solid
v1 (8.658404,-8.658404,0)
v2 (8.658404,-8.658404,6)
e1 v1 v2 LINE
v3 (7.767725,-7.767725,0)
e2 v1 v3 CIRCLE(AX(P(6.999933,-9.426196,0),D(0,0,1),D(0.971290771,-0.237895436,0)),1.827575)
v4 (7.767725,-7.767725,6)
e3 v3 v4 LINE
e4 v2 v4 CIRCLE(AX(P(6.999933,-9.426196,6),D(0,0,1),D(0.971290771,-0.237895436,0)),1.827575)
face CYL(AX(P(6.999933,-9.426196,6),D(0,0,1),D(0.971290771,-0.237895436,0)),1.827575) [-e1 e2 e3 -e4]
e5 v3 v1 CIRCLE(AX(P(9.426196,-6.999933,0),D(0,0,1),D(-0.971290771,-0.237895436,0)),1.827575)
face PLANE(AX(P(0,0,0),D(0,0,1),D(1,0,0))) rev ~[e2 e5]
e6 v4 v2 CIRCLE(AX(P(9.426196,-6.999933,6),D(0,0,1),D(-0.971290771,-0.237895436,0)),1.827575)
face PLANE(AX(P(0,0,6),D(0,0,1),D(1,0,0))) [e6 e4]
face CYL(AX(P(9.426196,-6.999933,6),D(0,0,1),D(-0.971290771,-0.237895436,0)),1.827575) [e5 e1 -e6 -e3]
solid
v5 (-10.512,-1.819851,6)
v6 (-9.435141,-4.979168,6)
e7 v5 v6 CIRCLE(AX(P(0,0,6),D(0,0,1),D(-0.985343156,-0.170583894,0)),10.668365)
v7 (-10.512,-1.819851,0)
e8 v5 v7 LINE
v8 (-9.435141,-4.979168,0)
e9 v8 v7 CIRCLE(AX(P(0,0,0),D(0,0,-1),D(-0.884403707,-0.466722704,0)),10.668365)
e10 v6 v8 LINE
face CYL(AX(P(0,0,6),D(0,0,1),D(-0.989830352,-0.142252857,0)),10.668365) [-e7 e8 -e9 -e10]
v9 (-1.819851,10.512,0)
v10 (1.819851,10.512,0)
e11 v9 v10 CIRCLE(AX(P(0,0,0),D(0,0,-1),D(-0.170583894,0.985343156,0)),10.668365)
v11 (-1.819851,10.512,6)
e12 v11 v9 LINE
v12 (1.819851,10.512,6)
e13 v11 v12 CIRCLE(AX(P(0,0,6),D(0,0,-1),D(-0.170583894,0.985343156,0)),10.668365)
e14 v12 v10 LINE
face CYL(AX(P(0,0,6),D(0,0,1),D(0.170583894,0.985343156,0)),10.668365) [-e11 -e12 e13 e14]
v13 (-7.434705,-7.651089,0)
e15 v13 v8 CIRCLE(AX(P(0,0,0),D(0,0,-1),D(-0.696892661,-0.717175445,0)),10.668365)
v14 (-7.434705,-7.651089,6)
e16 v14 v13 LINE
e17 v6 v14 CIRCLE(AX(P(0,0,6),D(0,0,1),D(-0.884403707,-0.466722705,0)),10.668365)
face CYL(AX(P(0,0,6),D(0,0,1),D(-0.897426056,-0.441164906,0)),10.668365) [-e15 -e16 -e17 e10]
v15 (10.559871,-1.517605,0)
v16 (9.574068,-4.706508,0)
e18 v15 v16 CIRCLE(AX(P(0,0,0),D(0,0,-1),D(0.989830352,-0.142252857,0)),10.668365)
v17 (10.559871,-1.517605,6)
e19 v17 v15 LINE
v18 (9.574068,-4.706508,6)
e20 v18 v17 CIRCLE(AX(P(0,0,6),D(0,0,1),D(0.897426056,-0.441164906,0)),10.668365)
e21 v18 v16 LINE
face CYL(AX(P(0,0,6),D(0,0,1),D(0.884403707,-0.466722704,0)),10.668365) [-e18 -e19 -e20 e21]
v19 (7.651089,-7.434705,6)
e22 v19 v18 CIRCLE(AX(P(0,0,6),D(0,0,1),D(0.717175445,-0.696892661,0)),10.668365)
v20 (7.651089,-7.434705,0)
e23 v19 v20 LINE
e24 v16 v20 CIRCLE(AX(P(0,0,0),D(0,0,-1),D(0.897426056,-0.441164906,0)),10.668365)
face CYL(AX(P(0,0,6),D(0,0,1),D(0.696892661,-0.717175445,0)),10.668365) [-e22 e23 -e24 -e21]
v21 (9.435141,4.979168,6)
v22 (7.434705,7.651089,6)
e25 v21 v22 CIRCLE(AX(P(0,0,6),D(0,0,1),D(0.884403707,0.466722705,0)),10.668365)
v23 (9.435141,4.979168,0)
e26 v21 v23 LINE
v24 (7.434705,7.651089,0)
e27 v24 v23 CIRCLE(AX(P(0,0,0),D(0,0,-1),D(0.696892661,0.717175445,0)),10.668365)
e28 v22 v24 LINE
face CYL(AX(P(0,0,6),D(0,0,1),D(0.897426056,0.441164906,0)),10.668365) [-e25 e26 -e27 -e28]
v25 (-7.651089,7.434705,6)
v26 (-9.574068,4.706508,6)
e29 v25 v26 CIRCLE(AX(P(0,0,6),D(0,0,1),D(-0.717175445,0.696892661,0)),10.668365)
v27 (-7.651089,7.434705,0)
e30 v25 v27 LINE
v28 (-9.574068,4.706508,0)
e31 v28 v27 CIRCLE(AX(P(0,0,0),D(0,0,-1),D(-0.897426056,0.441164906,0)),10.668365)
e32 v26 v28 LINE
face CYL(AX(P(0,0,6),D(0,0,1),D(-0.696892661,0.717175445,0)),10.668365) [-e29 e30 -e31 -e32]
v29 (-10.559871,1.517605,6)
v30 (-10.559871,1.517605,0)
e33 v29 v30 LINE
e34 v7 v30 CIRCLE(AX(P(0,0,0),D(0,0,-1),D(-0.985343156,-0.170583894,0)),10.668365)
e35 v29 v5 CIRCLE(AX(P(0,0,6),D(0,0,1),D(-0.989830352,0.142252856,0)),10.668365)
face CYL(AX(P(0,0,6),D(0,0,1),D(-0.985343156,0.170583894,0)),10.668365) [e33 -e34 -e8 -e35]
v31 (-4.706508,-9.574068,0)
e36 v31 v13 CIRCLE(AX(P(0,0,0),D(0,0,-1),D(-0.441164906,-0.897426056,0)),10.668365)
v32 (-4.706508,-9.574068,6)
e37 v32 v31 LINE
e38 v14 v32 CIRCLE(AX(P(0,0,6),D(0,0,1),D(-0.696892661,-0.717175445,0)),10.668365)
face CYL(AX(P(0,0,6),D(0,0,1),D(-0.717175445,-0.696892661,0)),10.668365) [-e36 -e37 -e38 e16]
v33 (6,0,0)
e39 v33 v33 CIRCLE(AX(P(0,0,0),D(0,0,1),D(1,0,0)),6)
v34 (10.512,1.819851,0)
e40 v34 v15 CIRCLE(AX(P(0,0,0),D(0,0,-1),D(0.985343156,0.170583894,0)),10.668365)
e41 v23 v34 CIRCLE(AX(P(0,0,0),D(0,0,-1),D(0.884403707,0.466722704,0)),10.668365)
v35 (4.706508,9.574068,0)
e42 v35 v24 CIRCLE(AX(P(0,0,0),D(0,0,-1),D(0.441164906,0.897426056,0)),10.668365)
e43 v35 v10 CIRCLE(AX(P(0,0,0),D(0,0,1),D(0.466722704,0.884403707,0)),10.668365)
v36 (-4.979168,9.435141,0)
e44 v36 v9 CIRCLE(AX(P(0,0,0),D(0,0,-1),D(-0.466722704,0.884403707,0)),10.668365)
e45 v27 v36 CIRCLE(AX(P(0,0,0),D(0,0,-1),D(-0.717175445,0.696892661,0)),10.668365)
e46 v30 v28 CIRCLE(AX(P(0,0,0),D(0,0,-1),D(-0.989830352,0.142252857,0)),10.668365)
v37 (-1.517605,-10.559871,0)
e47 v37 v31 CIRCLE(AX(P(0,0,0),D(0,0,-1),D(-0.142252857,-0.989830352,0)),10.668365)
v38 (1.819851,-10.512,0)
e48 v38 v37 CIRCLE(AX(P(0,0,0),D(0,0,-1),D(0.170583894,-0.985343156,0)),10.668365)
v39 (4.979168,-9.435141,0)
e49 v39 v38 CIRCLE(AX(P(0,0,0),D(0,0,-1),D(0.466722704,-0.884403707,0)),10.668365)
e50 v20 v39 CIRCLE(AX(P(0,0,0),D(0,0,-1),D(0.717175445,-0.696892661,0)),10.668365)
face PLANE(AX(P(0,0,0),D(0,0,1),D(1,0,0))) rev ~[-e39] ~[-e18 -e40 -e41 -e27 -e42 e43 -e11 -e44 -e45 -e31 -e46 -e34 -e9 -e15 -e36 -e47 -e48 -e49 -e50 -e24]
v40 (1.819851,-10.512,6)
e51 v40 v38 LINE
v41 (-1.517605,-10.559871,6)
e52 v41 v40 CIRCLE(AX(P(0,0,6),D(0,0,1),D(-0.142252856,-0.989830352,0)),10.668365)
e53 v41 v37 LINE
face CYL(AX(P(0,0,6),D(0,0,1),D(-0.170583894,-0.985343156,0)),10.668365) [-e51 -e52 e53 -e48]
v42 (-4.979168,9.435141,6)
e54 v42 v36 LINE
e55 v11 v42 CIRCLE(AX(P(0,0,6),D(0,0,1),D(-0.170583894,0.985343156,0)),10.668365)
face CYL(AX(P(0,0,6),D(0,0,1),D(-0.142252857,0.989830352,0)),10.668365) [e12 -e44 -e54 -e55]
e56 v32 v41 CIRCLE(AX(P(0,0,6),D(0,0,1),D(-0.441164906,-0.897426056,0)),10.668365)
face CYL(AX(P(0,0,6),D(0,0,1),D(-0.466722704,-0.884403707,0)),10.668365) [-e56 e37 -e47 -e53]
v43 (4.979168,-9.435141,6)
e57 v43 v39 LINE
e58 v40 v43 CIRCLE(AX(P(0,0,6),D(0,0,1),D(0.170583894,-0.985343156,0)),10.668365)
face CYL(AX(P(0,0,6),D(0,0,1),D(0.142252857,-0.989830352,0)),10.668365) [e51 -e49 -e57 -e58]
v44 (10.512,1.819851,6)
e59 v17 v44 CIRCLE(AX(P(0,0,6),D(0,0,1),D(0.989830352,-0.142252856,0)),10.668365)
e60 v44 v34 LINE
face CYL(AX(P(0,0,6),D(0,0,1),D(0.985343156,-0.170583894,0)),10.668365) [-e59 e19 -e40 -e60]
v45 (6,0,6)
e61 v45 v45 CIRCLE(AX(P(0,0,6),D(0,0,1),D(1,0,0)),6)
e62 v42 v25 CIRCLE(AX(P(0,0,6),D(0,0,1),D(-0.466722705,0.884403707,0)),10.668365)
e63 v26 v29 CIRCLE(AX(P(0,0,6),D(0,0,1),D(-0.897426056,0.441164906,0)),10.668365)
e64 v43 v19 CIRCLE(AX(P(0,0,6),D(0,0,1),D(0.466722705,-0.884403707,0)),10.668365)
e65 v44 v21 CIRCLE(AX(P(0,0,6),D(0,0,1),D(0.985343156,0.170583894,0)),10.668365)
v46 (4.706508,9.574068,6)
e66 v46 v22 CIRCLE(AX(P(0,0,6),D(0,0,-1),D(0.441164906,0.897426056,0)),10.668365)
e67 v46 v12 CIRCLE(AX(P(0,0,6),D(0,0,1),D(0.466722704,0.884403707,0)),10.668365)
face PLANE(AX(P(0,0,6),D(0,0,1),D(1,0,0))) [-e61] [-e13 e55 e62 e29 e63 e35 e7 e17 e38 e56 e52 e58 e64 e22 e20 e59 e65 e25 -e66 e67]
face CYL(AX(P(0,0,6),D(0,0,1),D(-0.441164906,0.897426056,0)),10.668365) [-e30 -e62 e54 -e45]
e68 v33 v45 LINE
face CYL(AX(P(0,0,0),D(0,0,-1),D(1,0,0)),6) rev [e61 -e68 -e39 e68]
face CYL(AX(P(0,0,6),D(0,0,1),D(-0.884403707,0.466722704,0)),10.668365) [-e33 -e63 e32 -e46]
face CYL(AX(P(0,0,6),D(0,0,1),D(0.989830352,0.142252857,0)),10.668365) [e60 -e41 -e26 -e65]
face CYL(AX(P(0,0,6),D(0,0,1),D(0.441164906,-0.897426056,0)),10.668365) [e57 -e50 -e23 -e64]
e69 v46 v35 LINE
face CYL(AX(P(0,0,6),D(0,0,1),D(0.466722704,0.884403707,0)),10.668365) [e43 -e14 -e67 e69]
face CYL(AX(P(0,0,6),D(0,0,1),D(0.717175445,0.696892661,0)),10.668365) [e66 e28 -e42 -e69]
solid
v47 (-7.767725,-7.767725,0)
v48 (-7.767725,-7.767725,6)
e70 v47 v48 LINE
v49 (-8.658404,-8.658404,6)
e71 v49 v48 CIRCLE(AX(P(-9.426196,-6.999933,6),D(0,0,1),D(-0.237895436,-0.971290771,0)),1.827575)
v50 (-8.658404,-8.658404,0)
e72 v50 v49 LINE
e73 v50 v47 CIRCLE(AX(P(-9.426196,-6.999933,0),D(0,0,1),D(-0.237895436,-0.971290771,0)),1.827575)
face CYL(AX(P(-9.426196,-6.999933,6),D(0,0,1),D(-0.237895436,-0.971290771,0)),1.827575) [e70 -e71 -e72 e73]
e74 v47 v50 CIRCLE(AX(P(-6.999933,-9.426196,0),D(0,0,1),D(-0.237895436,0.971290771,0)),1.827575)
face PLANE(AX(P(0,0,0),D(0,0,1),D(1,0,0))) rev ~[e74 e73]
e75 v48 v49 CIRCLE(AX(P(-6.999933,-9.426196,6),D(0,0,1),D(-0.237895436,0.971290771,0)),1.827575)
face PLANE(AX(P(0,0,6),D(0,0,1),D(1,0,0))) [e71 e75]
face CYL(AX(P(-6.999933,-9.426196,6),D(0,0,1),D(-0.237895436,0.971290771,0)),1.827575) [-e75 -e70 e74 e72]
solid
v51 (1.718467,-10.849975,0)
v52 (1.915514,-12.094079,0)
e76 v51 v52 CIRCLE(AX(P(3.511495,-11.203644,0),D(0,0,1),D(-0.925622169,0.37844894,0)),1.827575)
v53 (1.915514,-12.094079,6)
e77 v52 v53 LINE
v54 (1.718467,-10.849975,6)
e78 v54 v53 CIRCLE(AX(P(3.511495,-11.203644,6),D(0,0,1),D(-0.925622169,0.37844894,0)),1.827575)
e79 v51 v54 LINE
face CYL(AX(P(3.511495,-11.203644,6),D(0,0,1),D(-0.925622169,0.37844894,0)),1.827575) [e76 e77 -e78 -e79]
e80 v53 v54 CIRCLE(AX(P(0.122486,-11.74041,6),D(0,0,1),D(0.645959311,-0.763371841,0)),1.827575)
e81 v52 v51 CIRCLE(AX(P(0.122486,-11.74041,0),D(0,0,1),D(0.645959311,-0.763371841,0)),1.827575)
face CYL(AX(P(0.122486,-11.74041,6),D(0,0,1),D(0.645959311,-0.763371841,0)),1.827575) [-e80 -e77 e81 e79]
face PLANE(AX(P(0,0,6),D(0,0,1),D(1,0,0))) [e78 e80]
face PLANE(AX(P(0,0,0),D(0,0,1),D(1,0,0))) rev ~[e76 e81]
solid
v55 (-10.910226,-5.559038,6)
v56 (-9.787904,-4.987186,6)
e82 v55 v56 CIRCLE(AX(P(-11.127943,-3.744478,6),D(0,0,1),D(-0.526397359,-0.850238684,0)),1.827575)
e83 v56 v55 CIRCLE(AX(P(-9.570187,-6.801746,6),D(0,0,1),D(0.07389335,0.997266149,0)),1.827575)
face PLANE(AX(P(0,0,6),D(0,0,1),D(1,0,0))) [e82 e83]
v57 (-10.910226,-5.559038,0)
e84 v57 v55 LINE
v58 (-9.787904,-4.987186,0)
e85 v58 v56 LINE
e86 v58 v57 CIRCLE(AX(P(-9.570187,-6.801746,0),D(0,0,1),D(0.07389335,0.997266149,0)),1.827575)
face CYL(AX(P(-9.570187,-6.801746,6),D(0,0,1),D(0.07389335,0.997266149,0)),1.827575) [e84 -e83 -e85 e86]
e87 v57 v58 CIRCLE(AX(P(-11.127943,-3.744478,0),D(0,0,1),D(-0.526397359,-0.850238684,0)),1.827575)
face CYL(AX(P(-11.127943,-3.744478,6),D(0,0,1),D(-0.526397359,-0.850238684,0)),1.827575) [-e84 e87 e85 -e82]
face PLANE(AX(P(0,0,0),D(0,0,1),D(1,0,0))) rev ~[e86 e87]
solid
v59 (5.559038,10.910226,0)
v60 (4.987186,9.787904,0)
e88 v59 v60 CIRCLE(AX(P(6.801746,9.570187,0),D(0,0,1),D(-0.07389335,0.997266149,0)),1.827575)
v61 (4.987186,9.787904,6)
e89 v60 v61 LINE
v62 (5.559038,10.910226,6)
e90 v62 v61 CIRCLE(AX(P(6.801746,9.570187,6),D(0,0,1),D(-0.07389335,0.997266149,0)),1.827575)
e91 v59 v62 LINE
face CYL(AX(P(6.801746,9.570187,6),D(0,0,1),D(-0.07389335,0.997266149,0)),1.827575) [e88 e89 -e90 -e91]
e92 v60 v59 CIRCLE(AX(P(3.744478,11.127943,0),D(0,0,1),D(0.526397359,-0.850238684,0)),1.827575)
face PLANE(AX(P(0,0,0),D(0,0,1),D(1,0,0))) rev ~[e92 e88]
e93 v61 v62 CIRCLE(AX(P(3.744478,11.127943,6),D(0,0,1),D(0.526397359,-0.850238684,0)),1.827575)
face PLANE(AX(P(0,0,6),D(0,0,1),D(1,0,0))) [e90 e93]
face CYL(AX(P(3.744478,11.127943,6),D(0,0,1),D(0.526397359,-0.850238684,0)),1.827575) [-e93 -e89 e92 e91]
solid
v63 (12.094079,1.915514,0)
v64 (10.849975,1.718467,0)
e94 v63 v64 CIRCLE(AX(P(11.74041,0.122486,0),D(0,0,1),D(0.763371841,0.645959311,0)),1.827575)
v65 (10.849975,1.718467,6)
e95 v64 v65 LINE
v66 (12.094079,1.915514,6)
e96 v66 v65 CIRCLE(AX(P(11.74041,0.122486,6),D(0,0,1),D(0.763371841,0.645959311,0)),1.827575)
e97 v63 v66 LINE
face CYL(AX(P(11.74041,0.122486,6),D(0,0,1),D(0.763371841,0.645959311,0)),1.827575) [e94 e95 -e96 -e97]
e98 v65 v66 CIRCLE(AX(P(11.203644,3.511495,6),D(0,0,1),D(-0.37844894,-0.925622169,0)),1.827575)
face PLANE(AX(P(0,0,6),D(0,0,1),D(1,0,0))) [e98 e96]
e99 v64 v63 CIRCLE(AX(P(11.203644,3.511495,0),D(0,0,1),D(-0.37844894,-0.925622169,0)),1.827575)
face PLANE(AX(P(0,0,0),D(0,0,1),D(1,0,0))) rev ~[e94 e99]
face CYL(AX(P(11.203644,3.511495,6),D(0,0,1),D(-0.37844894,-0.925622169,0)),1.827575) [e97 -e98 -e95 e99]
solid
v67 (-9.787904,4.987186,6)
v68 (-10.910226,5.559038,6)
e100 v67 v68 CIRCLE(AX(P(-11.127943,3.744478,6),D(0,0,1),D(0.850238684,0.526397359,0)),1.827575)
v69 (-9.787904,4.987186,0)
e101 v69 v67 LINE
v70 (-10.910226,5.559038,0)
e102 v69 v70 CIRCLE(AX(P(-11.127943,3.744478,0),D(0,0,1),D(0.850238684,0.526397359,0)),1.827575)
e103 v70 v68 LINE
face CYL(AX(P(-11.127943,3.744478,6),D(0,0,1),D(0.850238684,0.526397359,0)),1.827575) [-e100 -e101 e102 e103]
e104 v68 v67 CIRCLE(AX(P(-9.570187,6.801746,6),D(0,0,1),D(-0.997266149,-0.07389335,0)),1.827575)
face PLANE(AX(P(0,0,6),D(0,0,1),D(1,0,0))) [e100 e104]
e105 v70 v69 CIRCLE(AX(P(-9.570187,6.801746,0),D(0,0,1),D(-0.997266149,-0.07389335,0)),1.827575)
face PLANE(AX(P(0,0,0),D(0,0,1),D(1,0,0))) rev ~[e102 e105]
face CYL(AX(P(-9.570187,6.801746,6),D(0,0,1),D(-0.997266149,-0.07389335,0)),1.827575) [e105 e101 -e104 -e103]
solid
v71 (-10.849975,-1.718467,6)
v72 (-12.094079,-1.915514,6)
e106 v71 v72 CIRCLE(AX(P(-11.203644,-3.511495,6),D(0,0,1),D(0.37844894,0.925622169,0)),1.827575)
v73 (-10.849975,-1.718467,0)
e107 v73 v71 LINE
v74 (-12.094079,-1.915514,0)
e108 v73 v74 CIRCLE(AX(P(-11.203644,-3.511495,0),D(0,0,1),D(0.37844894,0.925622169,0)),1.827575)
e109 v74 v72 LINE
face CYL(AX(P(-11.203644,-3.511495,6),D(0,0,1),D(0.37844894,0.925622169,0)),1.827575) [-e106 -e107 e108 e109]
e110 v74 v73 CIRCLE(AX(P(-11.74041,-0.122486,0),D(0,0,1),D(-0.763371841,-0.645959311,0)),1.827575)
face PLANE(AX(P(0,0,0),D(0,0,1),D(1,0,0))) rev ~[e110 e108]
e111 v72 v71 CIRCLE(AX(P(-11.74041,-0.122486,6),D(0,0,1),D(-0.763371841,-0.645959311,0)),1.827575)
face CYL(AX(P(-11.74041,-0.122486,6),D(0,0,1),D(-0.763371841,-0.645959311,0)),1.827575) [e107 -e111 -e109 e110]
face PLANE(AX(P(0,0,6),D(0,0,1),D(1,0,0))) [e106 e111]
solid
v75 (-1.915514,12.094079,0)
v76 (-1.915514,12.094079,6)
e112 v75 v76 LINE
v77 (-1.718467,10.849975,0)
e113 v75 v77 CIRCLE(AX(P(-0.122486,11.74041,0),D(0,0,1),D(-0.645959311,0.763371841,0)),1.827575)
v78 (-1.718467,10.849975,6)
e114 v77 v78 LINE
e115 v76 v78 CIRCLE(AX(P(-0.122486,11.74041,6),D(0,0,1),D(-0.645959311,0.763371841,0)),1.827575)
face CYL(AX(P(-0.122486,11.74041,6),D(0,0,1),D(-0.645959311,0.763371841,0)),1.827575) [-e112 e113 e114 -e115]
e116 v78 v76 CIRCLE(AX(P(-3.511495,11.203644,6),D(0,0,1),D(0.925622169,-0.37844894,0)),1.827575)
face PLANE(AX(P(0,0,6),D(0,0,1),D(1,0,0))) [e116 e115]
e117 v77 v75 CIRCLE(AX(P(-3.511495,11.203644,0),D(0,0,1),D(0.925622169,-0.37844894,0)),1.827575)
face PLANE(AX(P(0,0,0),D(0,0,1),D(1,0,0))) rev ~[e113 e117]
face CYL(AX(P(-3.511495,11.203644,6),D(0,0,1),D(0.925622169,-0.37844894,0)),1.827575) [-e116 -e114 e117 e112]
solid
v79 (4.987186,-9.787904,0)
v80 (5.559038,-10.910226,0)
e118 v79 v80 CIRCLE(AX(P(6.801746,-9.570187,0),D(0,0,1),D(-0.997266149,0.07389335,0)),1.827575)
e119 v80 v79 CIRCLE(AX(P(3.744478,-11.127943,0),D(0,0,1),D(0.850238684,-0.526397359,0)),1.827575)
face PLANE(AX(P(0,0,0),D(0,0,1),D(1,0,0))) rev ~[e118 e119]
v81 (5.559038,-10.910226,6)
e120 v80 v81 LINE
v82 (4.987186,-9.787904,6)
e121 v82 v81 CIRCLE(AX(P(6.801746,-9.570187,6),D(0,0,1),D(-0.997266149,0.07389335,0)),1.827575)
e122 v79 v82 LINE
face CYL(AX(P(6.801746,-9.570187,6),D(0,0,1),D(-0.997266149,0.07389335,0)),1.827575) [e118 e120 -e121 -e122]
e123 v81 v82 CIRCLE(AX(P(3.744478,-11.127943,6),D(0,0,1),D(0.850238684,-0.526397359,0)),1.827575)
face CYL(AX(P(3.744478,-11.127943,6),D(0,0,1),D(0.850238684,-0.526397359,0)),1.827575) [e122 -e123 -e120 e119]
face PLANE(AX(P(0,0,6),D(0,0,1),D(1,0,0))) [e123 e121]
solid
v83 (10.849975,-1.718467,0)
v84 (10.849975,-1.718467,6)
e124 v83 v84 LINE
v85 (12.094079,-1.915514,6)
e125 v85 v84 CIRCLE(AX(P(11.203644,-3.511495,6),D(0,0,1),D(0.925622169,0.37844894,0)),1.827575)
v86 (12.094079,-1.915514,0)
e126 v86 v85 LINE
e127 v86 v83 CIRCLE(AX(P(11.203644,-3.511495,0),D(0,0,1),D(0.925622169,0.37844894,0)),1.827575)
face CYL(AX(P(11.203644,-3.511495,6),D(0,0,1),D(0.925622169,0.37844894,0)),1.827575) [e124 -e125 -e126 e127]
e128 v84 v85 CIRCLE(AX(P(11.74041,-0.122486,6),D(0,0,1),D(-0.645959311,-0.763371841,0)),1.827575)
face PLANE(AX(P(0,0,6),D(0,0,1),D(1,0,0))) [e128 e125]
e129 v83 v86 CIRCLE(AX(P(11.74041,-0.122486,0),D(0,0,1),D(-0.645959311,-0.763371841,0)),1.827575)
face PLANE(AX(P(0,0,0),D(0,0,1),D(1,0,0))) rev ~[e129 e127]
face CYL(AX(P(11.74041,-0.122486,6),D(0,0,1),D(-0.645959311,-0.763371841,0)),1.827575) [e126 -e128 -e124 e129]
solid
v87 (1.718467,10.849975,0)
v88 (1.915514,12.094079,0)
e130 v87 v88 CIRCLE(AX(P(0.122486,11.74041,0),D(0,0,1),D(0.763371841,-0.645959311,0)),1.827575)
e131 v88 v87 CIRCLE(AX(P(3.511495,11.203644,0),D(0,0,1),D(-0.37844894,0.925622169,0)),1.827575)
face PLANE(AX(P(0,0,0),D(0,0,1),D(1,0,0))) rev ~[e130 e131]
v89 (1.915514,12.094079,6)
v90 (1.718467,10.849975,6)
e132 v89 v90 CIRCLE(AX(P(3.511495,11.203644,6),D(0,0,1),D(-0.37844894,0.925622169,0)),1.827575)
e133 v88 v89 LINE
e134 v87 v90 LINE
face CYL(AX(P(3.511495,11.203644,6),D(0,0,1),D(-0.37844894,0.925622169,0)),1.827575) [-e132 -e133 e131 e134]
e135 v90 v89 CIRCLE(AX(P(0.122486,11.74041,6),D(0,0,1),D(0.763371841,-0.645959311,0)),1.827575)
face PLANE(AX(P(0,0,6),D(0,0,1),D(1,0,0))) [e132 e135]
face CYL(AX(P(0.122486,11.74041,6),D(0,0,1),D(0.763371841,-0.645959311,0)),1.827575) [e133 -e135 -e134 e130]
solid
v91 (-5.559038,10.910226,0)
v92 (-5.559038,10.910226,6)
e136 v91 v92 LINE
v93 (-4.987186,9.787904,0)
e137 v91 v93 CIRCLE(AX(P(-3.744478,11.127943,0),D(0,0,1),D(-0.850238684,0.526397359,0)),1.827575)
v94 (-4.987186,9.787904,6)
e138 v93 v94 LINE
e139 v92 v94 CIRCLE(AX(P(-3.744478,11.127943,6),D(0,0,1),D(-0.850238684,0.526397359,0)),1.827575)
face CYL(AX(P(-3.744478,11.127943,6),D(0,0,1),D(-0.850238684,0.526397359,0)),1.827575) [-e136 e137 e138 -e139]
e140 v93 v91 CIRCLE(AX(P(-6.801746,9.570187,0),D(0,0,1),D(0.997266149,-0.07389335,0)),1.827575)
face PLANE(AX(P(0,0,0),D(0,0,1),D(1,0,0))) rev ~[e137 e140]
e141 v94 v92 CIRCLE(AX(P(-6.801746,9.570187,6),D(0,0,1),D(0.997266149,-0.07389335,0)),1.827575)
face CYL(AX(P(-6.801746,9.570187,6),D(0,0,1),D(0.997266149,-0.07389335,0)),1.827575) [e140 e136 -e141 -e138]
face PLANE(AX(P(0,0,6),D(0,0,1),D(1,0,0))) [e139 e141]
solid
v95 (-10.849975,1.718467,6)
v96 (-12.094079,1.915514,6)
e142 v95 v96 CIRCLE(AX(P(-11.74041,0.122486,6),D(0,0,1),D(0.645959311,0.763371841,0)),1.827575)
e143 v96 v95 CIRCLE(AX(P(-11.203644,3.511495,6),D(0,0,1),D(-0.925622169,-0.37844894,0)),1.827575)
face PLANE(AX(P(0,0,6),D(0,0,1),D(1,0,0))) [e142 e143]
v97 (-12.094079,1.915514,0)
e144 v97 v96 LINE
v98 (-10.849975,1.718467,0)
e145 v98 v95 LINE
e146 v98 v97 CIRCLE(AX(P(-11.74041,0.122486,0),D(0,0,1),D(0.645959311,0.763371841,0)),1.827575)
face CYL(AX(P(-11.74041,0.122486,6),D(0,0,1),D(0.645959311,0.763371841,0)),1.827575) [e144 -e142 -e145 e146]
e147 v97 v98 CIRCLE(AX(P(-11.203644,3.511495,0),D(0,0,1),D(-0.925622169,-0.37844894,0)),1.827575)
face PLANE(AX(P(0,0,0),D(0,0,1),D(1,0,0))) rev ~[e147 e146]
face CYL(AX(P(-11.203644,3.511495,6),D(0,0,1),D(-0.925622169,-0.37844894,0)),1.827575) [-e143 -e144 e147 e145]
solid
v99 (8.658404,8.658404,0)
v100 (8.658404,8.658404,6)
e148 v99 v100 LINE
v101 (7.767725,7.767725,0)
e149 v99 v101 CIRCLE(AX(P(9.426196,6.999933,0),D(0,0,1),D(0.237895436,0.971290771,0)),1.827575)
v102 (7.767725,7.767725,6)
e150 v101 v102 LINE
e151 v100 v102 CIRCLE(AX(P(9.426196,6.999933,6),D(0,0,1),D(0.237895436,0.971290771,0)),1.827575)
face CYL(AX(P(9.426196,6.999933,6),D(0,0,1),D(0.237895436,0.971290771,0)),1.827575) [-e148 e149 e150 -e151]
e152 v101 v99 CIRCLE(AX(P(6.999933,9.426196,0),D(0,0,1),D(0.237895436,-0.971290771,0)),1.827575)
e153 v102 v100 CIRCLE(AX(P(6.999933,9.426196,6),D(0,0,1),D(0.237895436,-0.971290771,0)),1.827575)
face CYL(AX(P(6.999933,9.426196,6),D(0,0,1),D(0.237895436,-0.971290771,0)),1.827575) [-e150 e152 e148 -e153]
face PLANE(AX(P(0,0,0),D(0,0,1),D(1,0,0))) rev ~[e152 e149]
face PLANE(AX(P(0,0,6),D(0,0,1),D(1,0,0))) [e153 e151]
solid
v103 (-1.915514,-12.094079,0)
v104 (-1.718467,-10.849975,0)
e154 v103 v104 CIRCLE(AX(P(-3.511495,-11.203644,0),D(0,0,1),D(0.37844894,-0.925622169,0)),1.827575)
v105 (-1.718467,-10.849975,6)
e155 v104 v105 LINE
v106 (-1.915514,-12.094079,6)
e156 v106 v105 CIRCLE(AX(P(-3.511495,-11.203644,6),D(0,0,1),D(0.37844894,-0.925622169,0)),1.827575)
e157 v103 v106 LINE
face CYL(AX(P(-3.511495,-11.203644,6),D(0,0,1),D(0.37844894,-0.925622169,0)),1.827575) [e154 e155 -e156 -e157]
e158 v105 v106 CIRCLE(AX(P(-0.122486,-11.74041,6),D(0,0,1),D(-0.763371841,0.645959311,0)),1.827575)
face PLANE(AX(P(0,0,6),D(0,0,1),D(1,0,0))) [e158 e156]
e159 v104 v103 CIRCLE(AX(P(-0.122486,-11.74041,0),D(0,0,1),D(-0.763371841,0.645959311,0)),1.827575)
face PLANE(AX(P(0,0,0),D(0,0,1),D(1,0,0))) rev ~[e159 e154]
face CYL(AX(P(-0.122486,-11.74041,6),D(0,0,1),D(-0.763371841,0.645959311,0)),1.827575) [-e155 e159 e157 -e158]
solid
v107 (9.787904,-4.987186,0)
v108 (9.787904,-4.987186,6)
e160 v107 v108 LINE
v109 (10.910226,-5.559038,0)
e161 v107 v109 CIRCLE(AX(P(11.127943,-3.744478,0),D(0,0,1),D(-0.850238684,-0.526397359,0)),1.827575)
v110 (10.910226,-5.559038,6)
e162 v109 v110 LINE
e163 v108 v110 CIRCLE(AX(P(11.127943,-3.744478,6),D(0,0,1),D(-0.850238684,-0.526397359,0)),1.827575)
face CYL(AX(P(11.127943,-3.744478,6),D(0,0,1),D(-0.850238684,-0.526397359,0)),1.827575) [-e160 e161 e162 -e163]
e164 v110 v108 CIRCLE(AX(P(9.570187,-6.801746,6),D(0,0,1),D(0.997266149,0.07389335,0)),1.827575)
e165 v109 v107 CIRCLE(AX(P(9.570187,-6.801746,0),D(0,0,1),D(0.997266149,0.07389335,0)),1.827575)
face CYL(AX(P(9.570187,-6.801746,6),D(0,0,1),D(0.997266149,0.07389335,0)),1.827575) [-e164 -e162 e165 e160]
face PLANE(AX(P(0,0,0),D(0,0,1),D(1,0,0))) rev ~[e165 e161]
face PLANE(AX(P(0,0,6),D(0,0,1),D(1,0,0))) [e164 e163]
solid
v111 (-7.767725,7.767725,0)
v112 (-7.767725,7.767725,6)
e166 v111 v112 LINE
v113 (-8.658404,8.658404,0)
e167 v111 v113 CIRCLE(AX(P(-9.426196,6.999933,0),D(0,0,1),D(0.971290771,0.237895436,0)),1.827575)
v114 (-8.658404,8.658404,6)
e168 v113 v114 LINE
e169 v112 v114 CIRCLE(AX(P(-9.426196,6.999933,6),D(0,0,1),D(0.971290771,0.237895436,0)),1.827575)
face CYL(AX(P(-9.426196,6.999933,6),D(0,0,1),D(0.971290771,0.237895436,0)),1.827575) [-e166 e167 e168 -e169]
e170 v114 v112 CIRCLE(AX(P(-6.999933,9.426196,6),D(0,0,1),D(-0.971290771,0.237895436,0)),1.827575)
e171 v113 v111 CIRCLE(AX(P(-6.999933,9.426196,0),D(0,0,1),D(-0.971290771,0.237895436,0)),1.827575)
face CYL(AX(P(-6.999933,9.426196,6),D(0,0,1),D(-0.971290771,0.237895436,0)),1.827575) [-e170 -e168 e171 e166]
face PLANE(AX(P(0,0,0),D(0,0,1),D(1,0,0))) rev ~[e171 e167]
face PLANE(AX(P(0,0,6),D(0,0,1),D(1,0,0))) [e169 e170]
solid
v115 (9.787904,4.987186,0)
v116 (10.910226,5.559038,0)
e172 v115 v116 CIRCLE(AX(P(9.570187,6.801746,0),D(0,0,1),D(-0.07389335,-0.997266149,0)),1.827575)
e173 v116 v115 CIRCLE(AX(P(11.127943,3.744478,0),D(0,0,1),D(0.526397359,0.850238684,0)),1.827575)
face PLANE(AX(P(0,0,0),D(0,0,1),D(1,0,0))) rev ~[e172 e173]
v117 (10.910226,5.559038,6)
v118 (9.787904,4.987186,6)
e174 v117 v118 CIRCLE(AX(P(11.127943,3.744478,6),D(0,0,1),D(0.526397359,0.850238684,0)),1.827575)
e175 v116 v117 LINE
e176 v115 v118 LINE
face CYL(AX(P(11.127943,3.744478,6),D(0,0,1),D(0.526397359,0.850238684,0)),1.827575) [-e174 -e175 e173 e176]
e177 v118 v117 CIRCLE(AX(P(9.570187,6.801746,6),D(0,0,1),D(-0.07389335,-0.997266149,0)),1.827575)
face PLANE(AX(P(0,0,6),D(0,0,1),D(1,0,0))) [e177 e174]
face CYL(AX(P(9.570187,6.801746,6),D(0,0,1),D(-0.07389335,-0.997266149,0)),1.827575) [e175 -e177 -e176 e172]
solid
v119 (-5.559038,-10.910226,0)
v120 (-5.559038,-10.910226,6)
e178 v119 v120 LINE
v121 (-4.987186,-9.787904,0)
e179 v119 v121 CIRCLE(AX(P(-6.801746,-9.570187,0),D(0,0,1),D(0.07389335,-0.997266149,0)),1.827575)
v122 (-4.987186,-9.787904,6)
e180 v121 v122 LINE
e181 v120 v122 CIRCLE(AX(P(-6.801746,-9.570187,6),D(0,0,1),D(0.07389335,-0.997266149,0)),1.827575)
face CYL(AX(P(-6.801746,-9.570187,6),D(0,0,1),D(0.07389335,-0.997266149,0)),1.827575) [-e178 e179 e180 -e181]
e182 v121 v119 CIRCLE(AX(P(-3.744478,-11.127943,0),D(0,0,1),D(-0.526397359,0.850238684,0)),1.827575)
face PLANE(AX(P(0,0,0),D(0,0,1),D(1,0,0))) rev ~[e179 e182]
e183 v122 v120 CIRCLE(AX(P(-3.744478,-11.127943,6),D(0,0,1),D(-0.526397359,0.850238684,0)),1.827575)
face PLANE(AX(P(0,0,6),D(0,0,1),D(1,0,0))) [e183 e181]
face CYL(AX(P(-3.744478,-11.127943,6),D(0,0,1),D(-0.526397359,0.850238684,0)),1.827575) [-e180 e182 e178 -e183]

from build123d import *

# Parameters (mm, degrees)
SKETCH1_R           = 13.2
SKETCH1_R_2         = 6
BOSS_EXTRUDE1_DEPTH = 6
CUT_EXTRUDE1_DEPTH  = 7
CIRPATTERN2_COUNT   = 20


with BuildPart() as part:
    # Sketch1 → Boss-Extrude1 (new body)
    with BuildSketch(Plane.XY):
        Circle(SKETCH1_R)
        Circle(SKETCH1_R_2, mode=Mode.SUBTRACT)
    extrude(amount=BOSS_EXTRUDE1_DEPTH)

    # Sketch2 → Cut-Extrude1 (cut, through all)
    with BuildSketch(Plane.XY.offset(6)):
        with BuildLine():
            ThreePointArc((-2.819851171, 12.895287487), (0, 13.2), (2.819851171, 12.895287487))
            ThreePointArc((2.819851171, 12.895287487), (1.826256171, 11.910750525), (1.819851171, 10.512))
            ThreePointArc((1.819851171, 10.512), (0, 10.668364555), (-1.819851171, 10.512))
            ThreePointArc((-1.819851171, 10.512), (-1.826256171, 11.910750525), (-2.819851171, 12.895287487))
        make_face()
    cut_extrude1 = extrude(amount=-CUT_EXTRUDE1_DEPTH, mode=Mode.SUBTRACT)

    # CirPattern2: Cut-Extrude1 ×20 about axis
    cirpattern2_axis = Axis((0, 0, 0), (0, 0, 1))
    for i in range(1, CIRPATTERN2_COUNT):
        add(cut_extrude1.rotate(cirpattern2_axis, i * 360 / CIRPATTERN2_COUNT), mode=Mode.SUBTRACT)


solid = part.part
